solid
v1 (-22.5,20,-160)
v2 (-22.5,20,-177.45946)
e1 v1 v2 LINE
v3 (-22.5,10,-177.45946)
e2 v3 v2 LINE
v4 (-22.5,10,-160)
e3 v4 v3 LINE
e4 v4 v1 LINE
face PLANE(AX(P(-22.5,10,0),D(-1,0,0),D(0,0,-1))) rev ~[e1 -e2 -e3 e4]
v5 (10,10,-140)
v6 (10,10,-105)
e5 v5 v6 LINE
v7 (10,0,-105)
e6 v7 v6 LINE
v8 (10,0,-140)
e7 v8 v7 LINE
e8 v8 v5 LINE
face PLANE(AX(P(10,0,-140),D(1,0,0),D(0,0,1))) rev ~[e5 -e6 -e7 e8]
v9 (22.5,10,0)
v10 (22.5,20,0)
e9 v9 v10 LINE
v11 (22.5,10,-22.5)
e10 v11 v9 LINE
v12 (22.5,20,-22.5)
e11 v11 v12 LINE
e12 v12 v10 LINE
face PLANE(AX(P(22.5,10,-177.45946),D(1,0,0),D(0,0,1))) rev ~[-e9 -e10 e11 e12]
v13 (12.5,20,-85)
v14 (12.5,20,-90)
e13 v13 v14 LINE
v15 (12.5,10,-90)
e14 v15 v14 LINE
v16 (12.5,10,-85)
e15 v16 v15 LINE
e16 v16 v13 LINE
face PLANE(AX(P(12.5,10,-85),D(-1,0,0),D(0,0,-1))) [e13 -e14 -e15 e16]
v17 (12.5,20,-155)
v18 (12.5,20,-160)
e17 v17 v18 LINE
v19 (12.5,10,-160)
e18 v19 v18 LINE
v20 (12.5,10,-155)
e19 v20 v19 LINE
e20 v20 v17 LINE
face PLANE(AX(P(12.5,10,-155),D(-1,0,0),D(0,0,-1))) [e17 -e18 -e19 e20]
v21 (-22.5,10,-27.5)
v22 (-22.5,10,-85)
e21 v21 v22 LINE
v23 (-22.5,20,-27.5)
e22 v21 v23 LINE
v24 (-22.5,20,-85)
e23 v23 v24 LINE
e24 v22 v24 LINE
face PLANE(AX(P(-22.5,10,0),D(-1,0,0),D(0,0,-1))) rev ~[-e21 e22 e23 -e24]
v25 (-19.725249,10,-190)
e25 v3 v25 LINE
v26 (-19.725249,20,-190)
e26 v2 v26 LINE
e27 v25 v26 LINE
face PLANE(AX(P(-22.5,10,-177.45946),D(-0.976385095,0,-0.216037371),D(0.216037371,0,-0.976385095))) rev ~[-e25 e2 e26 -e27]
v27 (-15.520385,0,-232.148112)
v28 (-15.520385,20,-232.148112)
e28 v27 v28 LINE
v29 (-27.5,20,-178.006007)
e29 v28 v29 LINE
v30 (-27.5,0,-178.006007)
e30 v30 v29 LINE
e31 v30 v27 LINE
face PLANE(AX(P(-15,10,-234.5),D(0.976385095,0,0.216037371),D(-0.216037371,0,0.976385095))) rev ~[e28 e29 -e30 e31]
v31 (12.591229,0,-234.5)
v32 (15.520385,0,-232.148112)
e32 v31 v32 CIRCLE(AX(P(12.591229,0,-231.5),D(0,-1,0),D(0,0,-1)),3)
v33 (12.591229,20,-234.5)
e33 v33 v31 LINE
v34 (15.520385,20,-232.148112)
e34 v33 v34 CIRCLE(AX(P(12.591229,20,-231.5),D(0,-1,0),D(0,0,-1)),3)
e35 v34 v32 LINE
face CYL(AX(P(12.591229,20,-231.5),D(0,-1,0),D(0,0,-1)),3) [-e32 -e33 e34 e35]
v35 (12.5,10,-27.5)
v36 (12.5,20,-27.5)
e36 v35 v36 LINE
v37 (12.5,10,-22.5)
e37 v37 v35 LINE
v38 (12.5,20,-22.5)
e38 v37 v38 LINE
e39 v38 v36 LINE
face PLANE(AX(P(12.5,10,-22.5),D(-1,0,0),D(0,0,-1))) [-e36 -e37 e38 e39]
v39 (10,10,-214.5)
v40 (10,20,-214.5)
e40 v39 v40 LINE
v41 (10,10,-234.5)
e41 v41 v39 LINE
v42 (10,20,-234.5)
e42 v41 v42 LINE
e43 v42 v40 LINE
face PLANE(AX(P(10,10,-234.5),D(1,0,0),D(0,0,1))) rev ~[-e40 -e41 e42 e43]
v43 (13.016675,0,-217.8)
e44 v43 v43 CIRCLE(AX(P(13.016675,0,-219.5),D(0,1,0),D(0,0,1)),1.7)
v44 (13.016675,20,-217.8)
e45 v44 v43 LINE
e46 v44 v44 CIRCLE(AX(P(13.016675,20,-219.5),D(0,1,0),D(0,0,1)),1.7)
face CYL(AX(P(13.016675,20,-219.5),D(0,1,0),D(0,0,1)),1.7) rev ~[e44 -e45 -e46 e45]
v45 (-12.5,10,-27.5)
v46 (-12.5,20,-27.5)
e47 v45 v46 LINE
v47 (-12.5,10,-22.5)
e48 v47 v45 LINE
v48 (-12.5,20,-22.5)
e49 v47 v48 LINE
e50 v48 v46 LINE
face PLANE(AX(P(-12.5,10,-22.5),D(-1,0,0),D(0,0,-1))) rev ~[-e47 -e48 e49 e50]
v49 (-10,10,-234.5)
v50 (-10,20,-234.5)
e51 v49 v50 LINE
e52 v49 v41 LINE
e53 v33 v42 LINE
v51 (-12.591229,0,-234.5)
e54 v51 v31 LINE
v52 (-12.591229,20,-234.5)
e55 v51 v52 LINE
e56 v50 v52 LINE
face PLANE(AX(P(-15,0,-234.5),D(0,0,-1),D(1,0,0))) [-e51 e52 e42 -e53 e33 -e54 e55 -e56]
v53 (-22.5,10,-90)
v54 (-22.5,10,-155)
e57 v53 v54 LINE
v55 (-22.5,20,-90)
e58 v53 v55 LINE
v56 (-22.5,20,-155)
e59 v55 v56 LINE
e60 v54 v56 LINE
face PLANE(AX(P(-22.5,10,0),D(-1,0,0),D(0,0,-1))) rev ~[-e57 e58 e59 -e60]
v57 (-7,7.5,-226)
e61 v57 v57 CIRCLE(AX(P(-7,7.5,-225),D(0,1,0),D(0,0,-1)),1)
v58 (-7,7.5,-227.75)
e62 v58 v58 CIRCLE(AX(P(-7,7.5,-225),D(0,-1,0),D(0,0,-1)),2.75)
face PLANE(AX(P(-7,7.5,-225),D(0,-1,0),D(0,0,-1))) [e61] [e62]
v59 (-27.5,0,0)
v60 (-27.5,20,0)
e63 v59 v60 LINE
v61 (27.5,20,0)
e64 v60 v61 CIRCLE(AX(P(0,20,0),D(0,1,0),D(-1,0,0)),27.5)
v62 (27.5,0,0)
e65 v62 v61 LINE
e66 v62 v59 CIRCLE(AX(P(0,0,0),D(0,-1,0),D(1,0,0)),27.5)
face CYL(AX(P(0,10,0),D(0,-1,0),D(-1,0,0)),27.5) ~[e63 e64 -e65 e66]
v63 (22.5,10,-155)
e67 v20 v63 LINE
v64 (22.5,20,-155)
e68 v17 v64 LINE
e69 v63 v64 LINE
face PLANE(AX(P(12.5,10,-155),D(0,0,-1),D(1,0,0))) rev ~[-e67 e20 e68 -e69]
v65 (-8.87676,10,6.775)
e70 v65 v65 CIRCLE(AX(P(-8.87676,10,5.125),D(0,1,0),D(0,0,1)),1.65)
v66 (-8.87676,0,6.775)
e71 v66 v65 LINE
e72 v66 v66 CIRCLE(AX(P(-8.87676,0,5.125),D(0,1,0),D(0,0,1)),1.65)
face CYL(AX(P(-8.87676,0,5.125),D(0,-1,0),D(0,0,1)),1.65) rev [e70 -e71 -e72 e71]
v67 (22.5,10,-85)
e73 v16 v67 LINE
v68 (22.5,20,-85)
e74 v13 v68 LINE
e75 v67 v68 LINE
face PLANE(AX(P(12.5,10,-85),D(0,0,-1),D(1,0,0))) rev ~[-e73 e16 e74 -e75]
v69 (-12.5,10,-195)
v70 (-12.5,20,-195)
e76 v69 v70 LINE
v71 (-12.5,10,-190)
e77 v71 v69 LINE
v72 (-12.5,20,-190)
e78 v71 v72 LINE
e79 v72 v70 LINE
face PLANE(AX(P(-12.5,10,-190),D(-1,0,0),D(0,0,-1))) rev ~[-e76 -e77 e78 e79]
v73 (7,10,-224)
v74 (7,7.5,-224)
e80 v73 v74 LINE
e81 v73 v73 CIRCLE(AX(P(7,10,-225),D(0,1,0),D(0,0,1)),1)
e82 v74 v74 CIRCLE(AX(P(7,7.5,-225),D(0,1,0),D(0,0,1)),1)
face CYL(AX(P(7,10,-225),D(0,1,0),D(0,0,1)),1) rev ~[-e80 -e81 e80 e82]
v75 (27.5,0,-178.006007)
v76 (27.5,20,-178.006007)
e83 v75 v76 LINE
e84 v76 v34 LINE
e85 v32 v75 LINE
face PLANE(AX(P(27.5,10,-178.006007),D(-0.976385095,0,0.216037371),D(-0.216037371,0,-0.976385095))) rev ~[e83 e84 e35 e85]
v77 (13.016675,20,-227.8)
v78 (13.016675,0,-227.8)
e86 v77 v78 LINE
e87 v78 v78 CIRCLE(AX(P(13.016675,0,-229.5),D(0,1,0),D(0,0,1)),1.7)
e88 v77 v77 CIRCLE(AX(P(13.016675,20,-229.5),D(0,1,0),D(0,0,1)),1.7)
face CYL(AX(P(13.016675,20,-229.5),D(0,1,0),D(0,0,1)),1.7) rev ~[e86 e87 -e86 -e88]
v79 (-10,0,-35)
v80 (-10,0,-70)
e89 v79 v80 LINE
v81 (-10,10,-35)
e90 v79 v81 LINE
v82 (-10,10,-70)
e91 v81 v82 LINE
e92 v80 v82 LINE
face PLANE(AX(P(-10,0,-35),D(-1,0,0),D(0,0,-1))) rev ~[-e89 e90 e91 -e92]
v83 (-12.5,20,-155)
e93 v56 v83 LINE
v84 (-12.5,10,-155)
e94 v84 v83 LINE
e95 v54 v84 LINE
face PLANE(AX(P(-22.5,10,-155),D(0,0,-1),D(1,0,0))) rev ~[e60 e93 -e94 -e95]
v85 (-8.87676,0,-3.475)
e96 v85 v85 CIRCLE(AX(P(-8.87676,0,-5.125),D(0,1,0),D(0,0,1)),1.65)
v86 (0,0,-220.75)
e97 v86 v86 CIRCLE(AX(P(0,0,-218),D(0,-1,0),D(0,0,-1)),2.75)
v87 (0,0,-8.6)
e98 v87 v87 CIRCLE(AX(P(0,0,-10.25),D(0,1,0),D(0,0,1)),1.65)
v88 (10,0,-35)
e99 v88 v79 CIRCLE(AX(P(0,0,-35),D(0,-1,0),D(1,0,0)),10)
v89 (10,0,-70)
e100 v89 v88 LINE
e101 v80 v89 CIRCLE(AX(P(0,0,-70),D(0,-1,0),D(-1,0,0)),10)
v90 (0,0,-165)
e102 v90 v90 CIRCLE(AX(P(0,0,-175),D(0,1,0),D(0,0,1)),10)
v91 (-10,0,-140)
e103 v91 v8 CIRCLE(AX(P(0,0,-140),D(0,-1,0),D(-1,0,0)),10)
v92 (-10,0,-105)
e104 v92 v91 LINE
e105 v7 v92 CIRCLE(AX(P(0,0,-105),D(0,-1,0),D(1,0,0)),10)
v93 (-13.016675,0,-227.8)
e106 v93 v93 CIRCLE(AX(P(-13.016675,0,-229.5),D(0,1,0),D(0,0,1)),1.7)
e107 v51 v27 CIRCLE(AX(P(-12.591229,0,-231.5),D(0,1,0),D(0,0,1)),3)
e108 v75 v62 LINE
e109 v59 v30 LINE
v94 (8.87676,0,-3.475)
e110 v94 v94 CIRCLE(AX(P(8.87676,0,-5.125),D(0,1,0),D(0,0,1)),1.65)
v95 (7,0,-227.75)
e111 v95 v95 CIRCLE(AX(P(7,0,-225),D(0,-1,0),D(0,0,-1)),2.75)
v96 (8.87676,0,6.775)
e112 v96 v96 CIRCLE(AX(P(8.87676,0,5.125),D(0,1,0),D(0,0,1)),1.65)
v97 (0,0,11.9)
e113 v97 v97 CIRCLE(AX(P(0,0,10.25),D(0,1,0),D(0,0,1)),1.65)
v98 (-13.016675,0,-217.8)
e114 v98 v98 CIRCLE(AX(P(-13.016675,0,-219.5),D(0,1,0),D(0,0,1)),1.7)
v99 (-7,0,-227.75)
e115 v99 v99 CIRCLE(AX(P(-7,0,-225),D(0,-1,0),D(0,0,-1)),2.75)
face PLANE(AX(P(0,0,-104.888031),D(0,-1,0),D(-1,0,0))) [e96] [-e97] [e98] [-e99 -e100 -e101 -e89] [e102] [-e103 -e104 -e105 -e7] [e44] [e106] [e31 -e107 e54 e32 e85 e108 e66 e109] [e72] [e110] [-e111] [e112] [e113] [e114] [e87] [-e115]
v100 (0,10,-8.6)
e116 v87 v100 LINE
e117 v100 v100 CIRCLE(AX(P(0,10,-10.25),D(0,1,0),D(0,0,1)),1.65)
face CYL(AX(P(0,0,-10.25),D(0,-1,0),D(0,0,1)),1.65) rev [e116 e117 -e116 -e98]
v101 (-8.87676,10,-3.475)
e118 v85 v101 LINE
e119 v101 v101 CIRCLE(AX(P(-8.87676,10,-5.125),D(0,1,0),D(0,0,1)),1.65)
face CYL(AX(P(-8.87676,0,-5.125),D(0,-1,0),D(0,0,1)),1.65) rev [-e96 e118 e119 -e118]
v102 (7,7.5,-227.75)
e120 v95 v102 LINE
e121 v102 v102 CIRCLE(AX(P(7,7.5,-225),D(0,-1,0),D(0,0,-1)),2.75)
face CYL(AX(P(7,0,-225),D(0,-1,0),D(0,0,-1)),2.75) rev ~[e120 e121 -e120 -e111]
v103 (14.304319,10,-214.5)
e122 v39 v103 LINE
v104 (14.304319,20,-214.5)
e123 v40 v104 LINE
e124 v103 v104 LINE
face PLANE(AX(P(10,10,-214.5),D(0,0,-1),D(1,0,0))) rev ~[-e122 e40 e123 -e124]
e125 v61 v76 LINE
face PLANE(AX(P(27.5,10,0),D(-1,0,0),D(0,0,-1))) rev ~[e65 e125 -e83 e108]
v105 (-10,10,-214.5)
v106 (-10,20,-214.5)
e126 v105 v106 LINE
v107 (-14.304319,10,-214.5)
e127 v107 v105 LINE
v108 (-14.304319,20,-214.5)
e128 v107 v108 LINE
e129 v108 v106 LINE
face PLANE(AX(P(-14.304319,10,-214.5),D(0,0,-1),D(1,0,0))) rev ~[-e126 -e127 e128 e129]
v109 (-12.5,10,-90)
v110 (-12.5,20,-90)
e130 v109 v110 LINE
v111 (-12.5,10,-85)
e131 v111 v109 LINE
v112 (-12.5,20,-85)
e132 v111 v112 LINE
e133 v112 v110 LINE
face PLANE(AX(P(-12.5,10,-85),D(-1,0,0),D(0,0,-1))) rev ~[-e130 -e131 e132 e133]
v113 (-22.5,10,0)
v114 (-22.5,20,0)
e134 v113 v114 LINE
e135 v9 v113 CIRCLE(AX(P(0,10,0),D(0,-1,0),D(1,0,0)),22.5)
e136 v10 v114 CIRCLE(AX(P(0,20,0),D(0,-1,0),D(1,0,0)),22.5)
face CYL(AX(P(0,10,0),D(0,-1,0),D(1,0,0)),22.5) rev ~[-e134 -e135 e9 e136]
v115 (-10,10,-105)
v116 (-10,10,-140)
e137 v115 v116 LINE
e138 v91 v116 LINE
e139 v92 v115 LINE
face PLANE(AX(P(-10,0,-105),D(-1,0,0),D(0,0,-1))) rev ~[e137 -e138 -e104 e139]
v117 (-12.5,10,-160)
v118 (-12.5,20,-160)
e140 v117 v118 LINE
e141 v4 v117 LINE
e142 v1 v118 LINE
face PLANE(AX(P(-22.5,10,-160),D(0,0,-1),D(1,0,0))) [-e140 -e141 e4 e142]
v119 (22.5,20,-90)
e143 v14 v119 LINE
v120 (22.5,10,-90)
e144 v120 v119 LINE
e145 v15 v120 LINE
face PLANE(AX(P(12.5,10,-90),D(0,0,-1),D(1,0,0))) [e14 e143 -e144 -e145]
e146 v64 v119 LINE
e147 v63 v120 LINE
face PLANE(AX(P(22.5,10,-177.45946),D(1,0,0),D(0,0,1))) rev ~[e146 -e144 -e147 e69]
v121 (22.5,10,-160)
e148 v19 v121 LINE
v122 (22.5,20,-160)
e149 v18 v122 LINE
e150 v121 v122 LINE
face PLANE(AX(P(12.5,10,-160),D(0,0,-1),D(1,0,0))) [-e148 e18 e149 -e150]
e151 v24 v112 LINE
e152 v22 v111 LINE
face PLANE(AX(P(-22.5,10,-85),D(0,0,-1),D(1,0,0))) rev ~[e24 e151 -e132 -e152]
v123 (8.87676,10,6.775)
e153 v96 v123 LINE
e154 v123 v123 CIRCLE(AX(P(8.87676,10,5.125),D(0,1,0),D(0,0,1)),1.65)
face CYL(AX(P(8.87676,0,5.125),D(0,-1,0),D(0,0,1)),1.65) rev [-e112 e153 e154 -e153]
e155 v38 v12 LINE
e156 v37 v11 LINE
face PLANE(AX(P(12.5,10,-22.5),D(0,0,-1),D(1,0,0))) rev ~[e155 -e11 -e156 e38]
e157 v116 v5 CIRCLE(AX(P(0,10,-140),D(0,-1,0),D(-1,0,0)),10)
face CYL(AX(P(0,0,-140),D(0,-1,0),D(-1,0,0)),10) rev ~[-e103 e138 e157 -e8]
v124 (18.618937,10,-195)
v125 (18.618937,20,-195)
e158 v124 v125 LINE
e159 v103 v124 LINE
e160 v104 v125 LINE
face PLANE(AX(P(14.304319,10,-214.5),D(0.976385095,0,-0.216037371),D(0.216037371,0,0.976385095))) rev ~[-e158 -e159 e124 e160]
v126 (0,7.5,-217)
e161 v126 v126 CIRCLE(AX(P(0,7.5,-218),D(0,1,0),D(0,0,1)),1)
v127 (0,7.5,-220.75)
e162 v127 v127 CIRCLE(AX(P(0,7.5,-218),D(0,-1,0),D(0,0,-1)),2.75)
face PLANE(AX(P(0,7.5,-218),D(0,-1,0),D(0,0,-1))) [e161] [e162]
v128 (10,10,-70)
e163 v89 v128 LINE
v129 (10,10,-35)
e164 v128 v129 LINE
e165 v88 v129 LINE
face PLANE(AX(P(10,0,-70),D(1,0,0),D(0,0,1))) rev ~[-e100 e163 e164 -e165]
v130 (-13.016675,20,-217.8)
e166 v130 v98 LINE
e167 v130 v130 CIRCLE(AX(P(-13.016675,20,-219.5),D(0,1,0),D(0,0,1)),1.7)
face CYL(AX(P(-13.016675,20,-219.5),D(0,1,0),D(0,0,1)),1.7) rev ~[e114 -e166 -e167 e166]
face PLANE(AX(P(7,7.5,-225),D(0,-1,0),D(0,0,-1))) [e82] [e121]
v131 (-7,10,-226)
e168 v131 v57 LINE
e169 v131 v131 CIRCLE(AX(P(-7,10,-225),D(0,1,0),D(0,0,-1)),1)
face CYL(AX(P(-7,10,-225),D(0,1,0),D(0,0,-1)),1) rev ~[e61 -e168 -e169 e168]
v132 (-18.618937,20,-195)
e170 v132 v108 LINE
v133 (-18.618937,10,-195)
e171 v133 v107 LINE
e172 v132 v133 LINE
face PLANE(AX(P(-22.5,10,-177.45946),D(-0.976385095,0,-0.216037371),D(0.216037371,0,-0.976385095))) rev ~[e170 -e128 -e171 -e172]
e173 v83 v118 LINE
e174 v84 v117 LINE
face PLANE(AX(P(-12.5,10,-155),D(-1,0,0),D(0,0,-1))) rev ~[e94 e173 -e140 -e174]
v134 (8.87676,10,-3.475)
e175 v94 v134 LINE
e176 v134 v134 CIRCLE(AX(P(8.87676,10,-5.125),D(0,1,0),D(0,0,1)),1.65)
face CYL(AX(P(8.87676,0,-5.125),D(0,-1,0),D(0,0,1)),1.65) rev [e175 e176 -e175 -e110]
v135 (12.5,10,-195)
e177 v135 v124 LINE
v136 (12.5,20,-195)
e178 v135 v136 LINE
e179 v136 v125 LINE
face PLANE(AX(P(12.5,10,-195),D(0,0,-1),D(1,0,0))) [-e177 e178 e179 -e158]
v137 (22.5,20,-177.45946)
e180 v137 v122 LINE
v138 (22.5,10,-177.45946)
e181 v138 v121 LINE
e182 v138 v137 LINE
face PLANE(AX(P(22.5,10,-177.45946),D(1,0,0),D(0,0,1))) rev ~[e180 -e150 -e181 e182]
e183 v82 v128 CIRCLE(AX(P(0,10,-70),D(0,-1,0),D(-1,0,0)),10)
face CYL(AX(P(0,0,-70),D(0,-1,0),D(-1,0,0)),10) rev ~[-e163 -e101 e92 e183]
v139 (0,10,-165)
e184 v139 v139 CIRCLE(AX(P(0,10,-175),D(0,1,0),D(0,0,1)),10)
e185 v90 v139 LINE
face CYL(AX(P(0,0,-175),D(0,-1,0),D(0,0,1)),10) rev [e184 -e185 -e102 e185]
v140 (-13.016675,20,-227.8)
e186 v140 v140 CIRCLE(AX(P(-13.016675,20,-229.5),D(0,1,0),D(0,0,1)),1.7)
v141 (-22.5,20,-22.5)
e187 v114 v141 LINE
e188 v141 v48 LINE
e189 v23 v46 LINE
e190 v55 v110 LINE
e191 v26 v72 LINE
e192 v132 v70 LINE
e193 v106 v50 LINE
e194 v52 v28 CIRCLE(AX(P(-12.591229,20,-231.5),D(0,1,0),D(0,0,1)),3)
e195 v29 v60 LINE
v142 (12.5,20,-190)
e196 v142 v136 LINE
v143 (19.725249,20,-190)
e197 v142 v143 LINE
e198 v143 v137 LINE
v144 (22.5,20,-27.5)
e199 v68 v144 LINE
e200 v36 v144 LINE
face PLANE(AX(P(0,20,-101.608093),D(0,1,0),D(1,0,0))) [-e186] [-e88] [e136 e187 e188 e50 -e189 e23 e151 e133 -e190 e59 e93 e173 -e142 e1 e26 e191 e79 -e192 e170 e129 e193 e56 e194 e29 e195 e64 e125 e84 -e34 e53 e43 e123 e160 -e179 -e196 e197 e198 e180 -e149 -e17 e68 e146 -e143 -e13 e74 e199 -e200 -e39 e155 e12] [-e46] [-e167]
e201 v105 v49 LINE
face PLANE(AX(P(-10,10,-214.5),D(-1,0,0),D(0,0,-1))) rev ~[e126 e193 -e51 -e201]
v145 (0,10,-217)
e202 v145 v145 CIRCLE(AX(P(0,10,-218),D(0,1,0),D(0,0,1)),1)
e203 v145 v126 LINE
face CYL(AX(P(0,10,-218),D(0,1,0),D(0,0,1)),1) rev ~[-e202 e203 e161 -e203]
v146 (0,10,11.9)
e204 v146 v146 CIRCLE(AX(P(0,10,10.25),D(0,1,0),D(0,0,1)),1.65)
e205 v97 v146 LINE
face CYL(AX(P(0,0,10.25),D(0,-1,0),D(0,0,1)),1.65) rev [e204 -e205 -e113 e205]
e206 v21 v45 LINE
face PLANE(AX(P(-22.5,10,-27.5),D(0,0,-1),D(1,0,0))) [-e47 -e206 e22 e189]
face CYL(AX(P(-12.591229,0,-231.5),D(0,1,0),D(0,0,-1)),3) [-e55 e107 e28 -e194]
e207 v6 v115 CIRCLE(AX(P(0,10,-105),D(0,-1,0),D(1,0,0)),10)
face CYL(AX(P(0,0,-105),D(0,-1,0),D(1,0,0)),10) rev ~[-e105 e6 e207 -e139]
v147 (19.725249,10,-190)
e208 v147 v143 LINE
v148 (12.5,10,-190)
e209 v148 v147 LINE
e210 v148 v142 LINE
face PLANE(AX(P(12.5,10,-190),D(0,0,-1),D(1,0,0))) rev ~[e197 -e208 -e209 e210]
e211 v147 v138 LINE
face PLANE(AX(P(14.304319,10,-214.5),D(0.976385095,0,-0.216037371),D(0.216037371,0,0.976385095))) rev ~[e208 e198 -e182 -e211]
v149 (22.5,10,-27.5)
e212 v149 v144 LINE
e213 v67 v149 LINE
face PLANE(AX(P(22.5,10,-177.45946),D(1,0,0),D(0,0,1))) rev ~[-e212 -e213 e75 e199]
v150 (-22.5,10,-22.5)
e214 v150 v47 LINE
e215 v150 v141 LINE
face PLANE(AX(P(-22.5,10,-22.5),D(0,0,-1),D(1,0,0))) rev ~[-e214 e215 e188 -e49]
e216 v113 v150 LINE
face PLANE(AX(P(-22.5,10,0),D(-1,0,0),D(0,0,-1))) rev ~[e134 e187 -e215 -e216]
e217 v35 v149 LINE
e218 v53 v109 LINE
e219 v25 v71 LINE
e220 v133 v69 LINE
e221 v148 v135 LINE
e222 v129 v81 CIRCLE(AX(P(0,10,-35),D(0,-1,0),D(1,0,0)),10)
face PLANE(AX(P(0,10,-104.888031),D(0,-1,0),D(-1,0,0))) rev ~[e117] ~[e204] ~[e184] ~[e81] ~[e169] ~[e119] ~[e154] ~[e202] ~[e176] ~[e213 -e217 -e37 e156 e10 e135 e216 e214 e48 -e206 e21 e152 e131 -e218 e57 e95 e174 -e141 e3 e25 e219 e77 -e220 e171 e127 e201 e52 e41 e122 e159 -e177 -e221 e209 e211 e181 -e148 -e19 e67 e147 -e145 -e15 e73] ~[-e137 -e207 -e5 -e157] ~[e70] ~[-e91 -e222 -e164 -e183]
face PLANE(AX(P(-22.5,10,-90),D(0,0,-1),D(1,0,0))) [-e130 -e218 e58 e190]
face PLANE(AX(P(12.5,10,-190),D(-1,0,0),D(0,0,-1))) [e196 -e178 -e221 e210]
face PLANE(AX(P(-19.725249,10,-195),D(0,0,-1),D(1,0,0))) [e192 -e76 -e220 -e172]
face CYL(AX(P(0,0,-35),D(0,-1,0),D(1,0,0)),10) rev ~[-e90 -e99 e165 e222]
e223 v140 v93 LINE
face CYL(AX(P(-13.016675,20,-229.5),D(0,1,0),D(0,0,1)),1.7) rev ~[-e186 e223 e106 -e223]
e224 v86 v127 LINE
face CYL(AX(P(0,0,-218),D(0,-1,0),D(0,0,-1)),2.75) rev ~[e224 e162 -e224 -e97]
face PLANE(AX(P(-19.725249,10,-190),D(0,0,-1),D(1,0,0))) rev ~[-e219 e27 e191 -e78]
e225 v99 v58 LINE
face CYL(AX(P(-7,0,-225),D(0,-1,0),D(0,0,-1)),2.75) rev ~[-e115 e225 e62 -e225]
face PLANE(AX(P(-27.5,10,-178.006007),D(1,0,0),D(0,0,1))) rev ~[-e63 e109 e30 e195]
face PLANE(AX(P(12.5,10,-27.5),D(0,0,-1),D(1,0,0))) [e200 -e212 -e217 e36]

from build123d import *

# Parameters (mm, degrees)
SKETCH_1_R          = 1.65
SKETCH_1_R_2        = 10
EXTRUDE_1_DEPTH     = 10
EXTRUDE_2_DEPTH     = 10
SKETCH_3_W          = 10
SKETCH_3_H          = 5
SKETCH_3_W_2        = 7.225249319
EXTRUDE_3_DEPTH     = 10
SKETCH_4_R          = 1.7
CUT_EXTRUDE_1_DEPTH = 237.952526891
SKETCH_5_R          = 1
CUT_EXTRUDE_2_DEPTH = 237.318640822
SKETCH_7_R          = 2.75
CUT_EXTRUDE_3_DEPTH = 7.5
FILLET_2_R          = 3


with BuildPart() as part:
    # 草图1 → 凸台-拉伸1 (new body)
    with BuildSketch(Plane(origin=(0, 0, 0), x_dir=(1, 0, 0), z_dir=(0, 1, 0))):
        with BuildLine():
            Line((-27.5, 0), (-27.5, 178.006007136))
            Line((-27.5, 178.006007136), (-15, 234.5))
            Line((-15, 234.5), (15, 234.5))
            Line((15, 234.5), (27.5, 178.006007136))
            Line((27.5, 178.006007136), (27.5, 0))
            ThreePointArc((27.5, 0), (0, -27.5), (-27.5, 0))
        make_face()
        with Locations(Location((0, 10.25, 0), (0, 0, 270))):
            Circle(SKETCH_1_R, mode=Mode.SUBTRACT)
        with Locations(Location((8.876760389, 5.125, 0), (0, 0, 270))):
            Circle(SKETCH_1_R, mode=Mode.SUBTRACT)
        with Locations(Location((8.876760389, -5.125, 0), (0, 0, 270))):
            Circle(SKETCH_1_R, mode=Mode.SUBTRACT)
        with Locations(Location((0, -10.25, 0), (0, 0, 270))):
            Circle(SKETCH_1_R, mode=Mode.SUBTRACT)
        with Locations(Location((-8.876760389, -5.125, 0), (0, 0, 270))):
            Circle(SKETCH_1_R, mode=Mode.SUBTRACT)
        with Locations(Location((-8.876760389, 5.125, 0), (0, 0, 270))):
            Circle(SKETCH_1_R, mode=Mode.SUBTRACT)
        with Locations(Location((0, 175, 0), (0, 0, 270))):
            Circle(SKETCH_1_R_2, mode=Mode.SUBTRACT)
        with BuildLine():
            Line((-10, 105), (-10, 140))
            ThreePointArc((-10, 140), (0, 150), (10, 140))
            Line((10, 140), (10, 105))
            ThreePointArc((10, 105), (0, 95), (-10, 105))
        make_face(mode=Mode.SUBTRACT)
        with BuildLine():
            Line((-10, 35), (-10, 70))
            ThreePointArc((-10, 70), (0, 80), (10, 70))
            Line((10, 70), (10, 35))
            ThreePointArc((10, 35), (0, 25), (-10, 35))
        make_face(mode=Mode.SUBTRACT)
    extrude(amount=EXTRUDE_1_DEPTH)

    # 草图2 → 凸台-拉伸2 (add)
    with BuildSketch(Plane(origin=(0, 10, 0), x_dir=(1, 0, 0), z_dir=(0, 1, 0))):
        with BuildLine():
            ThreePointArc((22.5, 0), (0, -22.5), (-22.5, 0))
            Line((-22.5, 0), (-22.5, 177.459460384))
            Line((-22.5, 177.459460384), (-14.304318978, 214.5))
            Line((-14.304318978, 214.5), (-10, 214.5))
            Line((-10, 214.5), (-10, 234.5))
            Line((-10, 234.5), (-15, 234.5))
            Line((-15, 234.5), (-27.5, 178.006007136))
            Line((-27.5, 178.006007136), (-27.5, 0))
            ThreePointArc((-27.5, 0), (0, -27.5), (27.5, 0))
            Line((27.5, 0), (27.5, 178.006007136))
            Line((27.5, 178.006007136), (15, 234.5))
            Line((15, 234.5), (10, 234.5))
            Line((10, 234.5), (10, 214.5))
            Line((10, 214.5), (14.304318978, 214.5))
            Line((14.304318978, 214.5), (22.5, 177.459460384))
            Line((22.5, 177.459460384), (22.5, 0))
        make_face()
    extrude(amount=EXTRUDE_2_DEPTH)

    # 草图3 → 凸台-拉伸3 (add)
    with BuildSketch(Plane(origin=(0, 10, 0), x_dir=(1, 0, 0), z_dir=(0, 1, 0))):
        with Locations((-17.5, 25)):
            Rectangle(SKETCH_3_W, SKETCH_3_H)
        with Locations((17.5, 25)):
            Rectangle(SKETCH_3_W, SKETCH_3_H)
        with Locations((-17.5, 87.5)):
            Rectangle(SKETCH_3_W, SKETCH_3_H)
        with Locations((17.5, 87.5)):
            Rectangle(SKETCH_3_W, SKETCH_3_H)
        with Locations((-17.5, 157.5)):
            Rectangle(SKETCH_3_W, SKETCH_3_H)
        with Locations((17.5, 157.5)):
            Rectangle(SKETCH_3_W, SKETCH_3_H)
        with Locations((-16.112624659, 192.5)):
            Rectangle(SKETCH_3_W_2, SKETCH_3_H)
        with Locations((16.112624659, 192.5)):
            Rectangle(SKETCH_3_W_2, SKETCH_3_H)
    extrude(amount=EXTRUDE_3_DEPTH)

    # 草图4 → 切除-拉伸1 (cut, through all)
    with BuildSketch(Plane(origin=(0, 20, 0), x_dir=(1, 0, 0), z_dir=(0, 1, 0))):
        with Locations(Location((-13.016675417, 229.5, 0), (0, 0, 270))):
            Circle(SKETCH_4_R)
        with Locations(Location((-13.016675417, 219.5, 0), (0, 0, 270))):
            Circle(SKETCH_4_R)
        with Locations(Location((13.016675417, 229.5, 0), (0, 0, 270))):
            Circle(SKETCH_4_R)
        with Locations(Location((13.016675417, 219.5, 0), (0, 0, 270))):
            Circle(SKETCH_4_R)
    extrude(amount=-CUT_EXTRUDE_1_DEPTH, mode=Mode.SUBTRACT)

    # 草图5 → 切除-拉伸2 (cut, through all)
    with BuildSketch(Plane(origin=(0, 10, 0), x_dir=(1, 0, 0), z_dir=(0, 1, 0))):
        with Locations(Location((0, 218, 0), (0, 0, 270))):
            Circle(SKETCH_5_R)
        with Locations(Location((7, 225, 0), (0, 0, 270))):
            Circle(SKETCH_5_R)
        with Locations(Location((-7, 225, 0), (0, 0, 90))):
            Circle(SKETCH_5_R)
    extrude(amount=-CUT_EXTRUDE_2_DEPTH, mode=Mode.SUBTRACT)

    # 草图7 → 切除-拉伸3 (cut)
    with BuildSketch(Plane.XZ):
        with Locations(Location((0, -218, 0), (0, 0, 270))):
            Circle(SKETCH_7_R)
        with Locations(Location((-7, -225, 0), (0, 0, 270))):
            Circle(SKETCH_7_R)
        with Locations(Location((7, -225, 0), (0, 0, 270))):
            Circle(SKETCH_7_R)
    extrude(amount=-CUT_EXTRUDE_3_DEPTH, mode=Mode.SUBTRACT)

    # 圆角2
    fillet_2_edges = [part.edges().sort_by_distance(p)[0] for p in [
        (-15, 10, -234.5),
        (15, 10, -234.5),
    ]]
    fillet(fillet_2_edges, radius=FILLET_2_R)


solid = part.part
